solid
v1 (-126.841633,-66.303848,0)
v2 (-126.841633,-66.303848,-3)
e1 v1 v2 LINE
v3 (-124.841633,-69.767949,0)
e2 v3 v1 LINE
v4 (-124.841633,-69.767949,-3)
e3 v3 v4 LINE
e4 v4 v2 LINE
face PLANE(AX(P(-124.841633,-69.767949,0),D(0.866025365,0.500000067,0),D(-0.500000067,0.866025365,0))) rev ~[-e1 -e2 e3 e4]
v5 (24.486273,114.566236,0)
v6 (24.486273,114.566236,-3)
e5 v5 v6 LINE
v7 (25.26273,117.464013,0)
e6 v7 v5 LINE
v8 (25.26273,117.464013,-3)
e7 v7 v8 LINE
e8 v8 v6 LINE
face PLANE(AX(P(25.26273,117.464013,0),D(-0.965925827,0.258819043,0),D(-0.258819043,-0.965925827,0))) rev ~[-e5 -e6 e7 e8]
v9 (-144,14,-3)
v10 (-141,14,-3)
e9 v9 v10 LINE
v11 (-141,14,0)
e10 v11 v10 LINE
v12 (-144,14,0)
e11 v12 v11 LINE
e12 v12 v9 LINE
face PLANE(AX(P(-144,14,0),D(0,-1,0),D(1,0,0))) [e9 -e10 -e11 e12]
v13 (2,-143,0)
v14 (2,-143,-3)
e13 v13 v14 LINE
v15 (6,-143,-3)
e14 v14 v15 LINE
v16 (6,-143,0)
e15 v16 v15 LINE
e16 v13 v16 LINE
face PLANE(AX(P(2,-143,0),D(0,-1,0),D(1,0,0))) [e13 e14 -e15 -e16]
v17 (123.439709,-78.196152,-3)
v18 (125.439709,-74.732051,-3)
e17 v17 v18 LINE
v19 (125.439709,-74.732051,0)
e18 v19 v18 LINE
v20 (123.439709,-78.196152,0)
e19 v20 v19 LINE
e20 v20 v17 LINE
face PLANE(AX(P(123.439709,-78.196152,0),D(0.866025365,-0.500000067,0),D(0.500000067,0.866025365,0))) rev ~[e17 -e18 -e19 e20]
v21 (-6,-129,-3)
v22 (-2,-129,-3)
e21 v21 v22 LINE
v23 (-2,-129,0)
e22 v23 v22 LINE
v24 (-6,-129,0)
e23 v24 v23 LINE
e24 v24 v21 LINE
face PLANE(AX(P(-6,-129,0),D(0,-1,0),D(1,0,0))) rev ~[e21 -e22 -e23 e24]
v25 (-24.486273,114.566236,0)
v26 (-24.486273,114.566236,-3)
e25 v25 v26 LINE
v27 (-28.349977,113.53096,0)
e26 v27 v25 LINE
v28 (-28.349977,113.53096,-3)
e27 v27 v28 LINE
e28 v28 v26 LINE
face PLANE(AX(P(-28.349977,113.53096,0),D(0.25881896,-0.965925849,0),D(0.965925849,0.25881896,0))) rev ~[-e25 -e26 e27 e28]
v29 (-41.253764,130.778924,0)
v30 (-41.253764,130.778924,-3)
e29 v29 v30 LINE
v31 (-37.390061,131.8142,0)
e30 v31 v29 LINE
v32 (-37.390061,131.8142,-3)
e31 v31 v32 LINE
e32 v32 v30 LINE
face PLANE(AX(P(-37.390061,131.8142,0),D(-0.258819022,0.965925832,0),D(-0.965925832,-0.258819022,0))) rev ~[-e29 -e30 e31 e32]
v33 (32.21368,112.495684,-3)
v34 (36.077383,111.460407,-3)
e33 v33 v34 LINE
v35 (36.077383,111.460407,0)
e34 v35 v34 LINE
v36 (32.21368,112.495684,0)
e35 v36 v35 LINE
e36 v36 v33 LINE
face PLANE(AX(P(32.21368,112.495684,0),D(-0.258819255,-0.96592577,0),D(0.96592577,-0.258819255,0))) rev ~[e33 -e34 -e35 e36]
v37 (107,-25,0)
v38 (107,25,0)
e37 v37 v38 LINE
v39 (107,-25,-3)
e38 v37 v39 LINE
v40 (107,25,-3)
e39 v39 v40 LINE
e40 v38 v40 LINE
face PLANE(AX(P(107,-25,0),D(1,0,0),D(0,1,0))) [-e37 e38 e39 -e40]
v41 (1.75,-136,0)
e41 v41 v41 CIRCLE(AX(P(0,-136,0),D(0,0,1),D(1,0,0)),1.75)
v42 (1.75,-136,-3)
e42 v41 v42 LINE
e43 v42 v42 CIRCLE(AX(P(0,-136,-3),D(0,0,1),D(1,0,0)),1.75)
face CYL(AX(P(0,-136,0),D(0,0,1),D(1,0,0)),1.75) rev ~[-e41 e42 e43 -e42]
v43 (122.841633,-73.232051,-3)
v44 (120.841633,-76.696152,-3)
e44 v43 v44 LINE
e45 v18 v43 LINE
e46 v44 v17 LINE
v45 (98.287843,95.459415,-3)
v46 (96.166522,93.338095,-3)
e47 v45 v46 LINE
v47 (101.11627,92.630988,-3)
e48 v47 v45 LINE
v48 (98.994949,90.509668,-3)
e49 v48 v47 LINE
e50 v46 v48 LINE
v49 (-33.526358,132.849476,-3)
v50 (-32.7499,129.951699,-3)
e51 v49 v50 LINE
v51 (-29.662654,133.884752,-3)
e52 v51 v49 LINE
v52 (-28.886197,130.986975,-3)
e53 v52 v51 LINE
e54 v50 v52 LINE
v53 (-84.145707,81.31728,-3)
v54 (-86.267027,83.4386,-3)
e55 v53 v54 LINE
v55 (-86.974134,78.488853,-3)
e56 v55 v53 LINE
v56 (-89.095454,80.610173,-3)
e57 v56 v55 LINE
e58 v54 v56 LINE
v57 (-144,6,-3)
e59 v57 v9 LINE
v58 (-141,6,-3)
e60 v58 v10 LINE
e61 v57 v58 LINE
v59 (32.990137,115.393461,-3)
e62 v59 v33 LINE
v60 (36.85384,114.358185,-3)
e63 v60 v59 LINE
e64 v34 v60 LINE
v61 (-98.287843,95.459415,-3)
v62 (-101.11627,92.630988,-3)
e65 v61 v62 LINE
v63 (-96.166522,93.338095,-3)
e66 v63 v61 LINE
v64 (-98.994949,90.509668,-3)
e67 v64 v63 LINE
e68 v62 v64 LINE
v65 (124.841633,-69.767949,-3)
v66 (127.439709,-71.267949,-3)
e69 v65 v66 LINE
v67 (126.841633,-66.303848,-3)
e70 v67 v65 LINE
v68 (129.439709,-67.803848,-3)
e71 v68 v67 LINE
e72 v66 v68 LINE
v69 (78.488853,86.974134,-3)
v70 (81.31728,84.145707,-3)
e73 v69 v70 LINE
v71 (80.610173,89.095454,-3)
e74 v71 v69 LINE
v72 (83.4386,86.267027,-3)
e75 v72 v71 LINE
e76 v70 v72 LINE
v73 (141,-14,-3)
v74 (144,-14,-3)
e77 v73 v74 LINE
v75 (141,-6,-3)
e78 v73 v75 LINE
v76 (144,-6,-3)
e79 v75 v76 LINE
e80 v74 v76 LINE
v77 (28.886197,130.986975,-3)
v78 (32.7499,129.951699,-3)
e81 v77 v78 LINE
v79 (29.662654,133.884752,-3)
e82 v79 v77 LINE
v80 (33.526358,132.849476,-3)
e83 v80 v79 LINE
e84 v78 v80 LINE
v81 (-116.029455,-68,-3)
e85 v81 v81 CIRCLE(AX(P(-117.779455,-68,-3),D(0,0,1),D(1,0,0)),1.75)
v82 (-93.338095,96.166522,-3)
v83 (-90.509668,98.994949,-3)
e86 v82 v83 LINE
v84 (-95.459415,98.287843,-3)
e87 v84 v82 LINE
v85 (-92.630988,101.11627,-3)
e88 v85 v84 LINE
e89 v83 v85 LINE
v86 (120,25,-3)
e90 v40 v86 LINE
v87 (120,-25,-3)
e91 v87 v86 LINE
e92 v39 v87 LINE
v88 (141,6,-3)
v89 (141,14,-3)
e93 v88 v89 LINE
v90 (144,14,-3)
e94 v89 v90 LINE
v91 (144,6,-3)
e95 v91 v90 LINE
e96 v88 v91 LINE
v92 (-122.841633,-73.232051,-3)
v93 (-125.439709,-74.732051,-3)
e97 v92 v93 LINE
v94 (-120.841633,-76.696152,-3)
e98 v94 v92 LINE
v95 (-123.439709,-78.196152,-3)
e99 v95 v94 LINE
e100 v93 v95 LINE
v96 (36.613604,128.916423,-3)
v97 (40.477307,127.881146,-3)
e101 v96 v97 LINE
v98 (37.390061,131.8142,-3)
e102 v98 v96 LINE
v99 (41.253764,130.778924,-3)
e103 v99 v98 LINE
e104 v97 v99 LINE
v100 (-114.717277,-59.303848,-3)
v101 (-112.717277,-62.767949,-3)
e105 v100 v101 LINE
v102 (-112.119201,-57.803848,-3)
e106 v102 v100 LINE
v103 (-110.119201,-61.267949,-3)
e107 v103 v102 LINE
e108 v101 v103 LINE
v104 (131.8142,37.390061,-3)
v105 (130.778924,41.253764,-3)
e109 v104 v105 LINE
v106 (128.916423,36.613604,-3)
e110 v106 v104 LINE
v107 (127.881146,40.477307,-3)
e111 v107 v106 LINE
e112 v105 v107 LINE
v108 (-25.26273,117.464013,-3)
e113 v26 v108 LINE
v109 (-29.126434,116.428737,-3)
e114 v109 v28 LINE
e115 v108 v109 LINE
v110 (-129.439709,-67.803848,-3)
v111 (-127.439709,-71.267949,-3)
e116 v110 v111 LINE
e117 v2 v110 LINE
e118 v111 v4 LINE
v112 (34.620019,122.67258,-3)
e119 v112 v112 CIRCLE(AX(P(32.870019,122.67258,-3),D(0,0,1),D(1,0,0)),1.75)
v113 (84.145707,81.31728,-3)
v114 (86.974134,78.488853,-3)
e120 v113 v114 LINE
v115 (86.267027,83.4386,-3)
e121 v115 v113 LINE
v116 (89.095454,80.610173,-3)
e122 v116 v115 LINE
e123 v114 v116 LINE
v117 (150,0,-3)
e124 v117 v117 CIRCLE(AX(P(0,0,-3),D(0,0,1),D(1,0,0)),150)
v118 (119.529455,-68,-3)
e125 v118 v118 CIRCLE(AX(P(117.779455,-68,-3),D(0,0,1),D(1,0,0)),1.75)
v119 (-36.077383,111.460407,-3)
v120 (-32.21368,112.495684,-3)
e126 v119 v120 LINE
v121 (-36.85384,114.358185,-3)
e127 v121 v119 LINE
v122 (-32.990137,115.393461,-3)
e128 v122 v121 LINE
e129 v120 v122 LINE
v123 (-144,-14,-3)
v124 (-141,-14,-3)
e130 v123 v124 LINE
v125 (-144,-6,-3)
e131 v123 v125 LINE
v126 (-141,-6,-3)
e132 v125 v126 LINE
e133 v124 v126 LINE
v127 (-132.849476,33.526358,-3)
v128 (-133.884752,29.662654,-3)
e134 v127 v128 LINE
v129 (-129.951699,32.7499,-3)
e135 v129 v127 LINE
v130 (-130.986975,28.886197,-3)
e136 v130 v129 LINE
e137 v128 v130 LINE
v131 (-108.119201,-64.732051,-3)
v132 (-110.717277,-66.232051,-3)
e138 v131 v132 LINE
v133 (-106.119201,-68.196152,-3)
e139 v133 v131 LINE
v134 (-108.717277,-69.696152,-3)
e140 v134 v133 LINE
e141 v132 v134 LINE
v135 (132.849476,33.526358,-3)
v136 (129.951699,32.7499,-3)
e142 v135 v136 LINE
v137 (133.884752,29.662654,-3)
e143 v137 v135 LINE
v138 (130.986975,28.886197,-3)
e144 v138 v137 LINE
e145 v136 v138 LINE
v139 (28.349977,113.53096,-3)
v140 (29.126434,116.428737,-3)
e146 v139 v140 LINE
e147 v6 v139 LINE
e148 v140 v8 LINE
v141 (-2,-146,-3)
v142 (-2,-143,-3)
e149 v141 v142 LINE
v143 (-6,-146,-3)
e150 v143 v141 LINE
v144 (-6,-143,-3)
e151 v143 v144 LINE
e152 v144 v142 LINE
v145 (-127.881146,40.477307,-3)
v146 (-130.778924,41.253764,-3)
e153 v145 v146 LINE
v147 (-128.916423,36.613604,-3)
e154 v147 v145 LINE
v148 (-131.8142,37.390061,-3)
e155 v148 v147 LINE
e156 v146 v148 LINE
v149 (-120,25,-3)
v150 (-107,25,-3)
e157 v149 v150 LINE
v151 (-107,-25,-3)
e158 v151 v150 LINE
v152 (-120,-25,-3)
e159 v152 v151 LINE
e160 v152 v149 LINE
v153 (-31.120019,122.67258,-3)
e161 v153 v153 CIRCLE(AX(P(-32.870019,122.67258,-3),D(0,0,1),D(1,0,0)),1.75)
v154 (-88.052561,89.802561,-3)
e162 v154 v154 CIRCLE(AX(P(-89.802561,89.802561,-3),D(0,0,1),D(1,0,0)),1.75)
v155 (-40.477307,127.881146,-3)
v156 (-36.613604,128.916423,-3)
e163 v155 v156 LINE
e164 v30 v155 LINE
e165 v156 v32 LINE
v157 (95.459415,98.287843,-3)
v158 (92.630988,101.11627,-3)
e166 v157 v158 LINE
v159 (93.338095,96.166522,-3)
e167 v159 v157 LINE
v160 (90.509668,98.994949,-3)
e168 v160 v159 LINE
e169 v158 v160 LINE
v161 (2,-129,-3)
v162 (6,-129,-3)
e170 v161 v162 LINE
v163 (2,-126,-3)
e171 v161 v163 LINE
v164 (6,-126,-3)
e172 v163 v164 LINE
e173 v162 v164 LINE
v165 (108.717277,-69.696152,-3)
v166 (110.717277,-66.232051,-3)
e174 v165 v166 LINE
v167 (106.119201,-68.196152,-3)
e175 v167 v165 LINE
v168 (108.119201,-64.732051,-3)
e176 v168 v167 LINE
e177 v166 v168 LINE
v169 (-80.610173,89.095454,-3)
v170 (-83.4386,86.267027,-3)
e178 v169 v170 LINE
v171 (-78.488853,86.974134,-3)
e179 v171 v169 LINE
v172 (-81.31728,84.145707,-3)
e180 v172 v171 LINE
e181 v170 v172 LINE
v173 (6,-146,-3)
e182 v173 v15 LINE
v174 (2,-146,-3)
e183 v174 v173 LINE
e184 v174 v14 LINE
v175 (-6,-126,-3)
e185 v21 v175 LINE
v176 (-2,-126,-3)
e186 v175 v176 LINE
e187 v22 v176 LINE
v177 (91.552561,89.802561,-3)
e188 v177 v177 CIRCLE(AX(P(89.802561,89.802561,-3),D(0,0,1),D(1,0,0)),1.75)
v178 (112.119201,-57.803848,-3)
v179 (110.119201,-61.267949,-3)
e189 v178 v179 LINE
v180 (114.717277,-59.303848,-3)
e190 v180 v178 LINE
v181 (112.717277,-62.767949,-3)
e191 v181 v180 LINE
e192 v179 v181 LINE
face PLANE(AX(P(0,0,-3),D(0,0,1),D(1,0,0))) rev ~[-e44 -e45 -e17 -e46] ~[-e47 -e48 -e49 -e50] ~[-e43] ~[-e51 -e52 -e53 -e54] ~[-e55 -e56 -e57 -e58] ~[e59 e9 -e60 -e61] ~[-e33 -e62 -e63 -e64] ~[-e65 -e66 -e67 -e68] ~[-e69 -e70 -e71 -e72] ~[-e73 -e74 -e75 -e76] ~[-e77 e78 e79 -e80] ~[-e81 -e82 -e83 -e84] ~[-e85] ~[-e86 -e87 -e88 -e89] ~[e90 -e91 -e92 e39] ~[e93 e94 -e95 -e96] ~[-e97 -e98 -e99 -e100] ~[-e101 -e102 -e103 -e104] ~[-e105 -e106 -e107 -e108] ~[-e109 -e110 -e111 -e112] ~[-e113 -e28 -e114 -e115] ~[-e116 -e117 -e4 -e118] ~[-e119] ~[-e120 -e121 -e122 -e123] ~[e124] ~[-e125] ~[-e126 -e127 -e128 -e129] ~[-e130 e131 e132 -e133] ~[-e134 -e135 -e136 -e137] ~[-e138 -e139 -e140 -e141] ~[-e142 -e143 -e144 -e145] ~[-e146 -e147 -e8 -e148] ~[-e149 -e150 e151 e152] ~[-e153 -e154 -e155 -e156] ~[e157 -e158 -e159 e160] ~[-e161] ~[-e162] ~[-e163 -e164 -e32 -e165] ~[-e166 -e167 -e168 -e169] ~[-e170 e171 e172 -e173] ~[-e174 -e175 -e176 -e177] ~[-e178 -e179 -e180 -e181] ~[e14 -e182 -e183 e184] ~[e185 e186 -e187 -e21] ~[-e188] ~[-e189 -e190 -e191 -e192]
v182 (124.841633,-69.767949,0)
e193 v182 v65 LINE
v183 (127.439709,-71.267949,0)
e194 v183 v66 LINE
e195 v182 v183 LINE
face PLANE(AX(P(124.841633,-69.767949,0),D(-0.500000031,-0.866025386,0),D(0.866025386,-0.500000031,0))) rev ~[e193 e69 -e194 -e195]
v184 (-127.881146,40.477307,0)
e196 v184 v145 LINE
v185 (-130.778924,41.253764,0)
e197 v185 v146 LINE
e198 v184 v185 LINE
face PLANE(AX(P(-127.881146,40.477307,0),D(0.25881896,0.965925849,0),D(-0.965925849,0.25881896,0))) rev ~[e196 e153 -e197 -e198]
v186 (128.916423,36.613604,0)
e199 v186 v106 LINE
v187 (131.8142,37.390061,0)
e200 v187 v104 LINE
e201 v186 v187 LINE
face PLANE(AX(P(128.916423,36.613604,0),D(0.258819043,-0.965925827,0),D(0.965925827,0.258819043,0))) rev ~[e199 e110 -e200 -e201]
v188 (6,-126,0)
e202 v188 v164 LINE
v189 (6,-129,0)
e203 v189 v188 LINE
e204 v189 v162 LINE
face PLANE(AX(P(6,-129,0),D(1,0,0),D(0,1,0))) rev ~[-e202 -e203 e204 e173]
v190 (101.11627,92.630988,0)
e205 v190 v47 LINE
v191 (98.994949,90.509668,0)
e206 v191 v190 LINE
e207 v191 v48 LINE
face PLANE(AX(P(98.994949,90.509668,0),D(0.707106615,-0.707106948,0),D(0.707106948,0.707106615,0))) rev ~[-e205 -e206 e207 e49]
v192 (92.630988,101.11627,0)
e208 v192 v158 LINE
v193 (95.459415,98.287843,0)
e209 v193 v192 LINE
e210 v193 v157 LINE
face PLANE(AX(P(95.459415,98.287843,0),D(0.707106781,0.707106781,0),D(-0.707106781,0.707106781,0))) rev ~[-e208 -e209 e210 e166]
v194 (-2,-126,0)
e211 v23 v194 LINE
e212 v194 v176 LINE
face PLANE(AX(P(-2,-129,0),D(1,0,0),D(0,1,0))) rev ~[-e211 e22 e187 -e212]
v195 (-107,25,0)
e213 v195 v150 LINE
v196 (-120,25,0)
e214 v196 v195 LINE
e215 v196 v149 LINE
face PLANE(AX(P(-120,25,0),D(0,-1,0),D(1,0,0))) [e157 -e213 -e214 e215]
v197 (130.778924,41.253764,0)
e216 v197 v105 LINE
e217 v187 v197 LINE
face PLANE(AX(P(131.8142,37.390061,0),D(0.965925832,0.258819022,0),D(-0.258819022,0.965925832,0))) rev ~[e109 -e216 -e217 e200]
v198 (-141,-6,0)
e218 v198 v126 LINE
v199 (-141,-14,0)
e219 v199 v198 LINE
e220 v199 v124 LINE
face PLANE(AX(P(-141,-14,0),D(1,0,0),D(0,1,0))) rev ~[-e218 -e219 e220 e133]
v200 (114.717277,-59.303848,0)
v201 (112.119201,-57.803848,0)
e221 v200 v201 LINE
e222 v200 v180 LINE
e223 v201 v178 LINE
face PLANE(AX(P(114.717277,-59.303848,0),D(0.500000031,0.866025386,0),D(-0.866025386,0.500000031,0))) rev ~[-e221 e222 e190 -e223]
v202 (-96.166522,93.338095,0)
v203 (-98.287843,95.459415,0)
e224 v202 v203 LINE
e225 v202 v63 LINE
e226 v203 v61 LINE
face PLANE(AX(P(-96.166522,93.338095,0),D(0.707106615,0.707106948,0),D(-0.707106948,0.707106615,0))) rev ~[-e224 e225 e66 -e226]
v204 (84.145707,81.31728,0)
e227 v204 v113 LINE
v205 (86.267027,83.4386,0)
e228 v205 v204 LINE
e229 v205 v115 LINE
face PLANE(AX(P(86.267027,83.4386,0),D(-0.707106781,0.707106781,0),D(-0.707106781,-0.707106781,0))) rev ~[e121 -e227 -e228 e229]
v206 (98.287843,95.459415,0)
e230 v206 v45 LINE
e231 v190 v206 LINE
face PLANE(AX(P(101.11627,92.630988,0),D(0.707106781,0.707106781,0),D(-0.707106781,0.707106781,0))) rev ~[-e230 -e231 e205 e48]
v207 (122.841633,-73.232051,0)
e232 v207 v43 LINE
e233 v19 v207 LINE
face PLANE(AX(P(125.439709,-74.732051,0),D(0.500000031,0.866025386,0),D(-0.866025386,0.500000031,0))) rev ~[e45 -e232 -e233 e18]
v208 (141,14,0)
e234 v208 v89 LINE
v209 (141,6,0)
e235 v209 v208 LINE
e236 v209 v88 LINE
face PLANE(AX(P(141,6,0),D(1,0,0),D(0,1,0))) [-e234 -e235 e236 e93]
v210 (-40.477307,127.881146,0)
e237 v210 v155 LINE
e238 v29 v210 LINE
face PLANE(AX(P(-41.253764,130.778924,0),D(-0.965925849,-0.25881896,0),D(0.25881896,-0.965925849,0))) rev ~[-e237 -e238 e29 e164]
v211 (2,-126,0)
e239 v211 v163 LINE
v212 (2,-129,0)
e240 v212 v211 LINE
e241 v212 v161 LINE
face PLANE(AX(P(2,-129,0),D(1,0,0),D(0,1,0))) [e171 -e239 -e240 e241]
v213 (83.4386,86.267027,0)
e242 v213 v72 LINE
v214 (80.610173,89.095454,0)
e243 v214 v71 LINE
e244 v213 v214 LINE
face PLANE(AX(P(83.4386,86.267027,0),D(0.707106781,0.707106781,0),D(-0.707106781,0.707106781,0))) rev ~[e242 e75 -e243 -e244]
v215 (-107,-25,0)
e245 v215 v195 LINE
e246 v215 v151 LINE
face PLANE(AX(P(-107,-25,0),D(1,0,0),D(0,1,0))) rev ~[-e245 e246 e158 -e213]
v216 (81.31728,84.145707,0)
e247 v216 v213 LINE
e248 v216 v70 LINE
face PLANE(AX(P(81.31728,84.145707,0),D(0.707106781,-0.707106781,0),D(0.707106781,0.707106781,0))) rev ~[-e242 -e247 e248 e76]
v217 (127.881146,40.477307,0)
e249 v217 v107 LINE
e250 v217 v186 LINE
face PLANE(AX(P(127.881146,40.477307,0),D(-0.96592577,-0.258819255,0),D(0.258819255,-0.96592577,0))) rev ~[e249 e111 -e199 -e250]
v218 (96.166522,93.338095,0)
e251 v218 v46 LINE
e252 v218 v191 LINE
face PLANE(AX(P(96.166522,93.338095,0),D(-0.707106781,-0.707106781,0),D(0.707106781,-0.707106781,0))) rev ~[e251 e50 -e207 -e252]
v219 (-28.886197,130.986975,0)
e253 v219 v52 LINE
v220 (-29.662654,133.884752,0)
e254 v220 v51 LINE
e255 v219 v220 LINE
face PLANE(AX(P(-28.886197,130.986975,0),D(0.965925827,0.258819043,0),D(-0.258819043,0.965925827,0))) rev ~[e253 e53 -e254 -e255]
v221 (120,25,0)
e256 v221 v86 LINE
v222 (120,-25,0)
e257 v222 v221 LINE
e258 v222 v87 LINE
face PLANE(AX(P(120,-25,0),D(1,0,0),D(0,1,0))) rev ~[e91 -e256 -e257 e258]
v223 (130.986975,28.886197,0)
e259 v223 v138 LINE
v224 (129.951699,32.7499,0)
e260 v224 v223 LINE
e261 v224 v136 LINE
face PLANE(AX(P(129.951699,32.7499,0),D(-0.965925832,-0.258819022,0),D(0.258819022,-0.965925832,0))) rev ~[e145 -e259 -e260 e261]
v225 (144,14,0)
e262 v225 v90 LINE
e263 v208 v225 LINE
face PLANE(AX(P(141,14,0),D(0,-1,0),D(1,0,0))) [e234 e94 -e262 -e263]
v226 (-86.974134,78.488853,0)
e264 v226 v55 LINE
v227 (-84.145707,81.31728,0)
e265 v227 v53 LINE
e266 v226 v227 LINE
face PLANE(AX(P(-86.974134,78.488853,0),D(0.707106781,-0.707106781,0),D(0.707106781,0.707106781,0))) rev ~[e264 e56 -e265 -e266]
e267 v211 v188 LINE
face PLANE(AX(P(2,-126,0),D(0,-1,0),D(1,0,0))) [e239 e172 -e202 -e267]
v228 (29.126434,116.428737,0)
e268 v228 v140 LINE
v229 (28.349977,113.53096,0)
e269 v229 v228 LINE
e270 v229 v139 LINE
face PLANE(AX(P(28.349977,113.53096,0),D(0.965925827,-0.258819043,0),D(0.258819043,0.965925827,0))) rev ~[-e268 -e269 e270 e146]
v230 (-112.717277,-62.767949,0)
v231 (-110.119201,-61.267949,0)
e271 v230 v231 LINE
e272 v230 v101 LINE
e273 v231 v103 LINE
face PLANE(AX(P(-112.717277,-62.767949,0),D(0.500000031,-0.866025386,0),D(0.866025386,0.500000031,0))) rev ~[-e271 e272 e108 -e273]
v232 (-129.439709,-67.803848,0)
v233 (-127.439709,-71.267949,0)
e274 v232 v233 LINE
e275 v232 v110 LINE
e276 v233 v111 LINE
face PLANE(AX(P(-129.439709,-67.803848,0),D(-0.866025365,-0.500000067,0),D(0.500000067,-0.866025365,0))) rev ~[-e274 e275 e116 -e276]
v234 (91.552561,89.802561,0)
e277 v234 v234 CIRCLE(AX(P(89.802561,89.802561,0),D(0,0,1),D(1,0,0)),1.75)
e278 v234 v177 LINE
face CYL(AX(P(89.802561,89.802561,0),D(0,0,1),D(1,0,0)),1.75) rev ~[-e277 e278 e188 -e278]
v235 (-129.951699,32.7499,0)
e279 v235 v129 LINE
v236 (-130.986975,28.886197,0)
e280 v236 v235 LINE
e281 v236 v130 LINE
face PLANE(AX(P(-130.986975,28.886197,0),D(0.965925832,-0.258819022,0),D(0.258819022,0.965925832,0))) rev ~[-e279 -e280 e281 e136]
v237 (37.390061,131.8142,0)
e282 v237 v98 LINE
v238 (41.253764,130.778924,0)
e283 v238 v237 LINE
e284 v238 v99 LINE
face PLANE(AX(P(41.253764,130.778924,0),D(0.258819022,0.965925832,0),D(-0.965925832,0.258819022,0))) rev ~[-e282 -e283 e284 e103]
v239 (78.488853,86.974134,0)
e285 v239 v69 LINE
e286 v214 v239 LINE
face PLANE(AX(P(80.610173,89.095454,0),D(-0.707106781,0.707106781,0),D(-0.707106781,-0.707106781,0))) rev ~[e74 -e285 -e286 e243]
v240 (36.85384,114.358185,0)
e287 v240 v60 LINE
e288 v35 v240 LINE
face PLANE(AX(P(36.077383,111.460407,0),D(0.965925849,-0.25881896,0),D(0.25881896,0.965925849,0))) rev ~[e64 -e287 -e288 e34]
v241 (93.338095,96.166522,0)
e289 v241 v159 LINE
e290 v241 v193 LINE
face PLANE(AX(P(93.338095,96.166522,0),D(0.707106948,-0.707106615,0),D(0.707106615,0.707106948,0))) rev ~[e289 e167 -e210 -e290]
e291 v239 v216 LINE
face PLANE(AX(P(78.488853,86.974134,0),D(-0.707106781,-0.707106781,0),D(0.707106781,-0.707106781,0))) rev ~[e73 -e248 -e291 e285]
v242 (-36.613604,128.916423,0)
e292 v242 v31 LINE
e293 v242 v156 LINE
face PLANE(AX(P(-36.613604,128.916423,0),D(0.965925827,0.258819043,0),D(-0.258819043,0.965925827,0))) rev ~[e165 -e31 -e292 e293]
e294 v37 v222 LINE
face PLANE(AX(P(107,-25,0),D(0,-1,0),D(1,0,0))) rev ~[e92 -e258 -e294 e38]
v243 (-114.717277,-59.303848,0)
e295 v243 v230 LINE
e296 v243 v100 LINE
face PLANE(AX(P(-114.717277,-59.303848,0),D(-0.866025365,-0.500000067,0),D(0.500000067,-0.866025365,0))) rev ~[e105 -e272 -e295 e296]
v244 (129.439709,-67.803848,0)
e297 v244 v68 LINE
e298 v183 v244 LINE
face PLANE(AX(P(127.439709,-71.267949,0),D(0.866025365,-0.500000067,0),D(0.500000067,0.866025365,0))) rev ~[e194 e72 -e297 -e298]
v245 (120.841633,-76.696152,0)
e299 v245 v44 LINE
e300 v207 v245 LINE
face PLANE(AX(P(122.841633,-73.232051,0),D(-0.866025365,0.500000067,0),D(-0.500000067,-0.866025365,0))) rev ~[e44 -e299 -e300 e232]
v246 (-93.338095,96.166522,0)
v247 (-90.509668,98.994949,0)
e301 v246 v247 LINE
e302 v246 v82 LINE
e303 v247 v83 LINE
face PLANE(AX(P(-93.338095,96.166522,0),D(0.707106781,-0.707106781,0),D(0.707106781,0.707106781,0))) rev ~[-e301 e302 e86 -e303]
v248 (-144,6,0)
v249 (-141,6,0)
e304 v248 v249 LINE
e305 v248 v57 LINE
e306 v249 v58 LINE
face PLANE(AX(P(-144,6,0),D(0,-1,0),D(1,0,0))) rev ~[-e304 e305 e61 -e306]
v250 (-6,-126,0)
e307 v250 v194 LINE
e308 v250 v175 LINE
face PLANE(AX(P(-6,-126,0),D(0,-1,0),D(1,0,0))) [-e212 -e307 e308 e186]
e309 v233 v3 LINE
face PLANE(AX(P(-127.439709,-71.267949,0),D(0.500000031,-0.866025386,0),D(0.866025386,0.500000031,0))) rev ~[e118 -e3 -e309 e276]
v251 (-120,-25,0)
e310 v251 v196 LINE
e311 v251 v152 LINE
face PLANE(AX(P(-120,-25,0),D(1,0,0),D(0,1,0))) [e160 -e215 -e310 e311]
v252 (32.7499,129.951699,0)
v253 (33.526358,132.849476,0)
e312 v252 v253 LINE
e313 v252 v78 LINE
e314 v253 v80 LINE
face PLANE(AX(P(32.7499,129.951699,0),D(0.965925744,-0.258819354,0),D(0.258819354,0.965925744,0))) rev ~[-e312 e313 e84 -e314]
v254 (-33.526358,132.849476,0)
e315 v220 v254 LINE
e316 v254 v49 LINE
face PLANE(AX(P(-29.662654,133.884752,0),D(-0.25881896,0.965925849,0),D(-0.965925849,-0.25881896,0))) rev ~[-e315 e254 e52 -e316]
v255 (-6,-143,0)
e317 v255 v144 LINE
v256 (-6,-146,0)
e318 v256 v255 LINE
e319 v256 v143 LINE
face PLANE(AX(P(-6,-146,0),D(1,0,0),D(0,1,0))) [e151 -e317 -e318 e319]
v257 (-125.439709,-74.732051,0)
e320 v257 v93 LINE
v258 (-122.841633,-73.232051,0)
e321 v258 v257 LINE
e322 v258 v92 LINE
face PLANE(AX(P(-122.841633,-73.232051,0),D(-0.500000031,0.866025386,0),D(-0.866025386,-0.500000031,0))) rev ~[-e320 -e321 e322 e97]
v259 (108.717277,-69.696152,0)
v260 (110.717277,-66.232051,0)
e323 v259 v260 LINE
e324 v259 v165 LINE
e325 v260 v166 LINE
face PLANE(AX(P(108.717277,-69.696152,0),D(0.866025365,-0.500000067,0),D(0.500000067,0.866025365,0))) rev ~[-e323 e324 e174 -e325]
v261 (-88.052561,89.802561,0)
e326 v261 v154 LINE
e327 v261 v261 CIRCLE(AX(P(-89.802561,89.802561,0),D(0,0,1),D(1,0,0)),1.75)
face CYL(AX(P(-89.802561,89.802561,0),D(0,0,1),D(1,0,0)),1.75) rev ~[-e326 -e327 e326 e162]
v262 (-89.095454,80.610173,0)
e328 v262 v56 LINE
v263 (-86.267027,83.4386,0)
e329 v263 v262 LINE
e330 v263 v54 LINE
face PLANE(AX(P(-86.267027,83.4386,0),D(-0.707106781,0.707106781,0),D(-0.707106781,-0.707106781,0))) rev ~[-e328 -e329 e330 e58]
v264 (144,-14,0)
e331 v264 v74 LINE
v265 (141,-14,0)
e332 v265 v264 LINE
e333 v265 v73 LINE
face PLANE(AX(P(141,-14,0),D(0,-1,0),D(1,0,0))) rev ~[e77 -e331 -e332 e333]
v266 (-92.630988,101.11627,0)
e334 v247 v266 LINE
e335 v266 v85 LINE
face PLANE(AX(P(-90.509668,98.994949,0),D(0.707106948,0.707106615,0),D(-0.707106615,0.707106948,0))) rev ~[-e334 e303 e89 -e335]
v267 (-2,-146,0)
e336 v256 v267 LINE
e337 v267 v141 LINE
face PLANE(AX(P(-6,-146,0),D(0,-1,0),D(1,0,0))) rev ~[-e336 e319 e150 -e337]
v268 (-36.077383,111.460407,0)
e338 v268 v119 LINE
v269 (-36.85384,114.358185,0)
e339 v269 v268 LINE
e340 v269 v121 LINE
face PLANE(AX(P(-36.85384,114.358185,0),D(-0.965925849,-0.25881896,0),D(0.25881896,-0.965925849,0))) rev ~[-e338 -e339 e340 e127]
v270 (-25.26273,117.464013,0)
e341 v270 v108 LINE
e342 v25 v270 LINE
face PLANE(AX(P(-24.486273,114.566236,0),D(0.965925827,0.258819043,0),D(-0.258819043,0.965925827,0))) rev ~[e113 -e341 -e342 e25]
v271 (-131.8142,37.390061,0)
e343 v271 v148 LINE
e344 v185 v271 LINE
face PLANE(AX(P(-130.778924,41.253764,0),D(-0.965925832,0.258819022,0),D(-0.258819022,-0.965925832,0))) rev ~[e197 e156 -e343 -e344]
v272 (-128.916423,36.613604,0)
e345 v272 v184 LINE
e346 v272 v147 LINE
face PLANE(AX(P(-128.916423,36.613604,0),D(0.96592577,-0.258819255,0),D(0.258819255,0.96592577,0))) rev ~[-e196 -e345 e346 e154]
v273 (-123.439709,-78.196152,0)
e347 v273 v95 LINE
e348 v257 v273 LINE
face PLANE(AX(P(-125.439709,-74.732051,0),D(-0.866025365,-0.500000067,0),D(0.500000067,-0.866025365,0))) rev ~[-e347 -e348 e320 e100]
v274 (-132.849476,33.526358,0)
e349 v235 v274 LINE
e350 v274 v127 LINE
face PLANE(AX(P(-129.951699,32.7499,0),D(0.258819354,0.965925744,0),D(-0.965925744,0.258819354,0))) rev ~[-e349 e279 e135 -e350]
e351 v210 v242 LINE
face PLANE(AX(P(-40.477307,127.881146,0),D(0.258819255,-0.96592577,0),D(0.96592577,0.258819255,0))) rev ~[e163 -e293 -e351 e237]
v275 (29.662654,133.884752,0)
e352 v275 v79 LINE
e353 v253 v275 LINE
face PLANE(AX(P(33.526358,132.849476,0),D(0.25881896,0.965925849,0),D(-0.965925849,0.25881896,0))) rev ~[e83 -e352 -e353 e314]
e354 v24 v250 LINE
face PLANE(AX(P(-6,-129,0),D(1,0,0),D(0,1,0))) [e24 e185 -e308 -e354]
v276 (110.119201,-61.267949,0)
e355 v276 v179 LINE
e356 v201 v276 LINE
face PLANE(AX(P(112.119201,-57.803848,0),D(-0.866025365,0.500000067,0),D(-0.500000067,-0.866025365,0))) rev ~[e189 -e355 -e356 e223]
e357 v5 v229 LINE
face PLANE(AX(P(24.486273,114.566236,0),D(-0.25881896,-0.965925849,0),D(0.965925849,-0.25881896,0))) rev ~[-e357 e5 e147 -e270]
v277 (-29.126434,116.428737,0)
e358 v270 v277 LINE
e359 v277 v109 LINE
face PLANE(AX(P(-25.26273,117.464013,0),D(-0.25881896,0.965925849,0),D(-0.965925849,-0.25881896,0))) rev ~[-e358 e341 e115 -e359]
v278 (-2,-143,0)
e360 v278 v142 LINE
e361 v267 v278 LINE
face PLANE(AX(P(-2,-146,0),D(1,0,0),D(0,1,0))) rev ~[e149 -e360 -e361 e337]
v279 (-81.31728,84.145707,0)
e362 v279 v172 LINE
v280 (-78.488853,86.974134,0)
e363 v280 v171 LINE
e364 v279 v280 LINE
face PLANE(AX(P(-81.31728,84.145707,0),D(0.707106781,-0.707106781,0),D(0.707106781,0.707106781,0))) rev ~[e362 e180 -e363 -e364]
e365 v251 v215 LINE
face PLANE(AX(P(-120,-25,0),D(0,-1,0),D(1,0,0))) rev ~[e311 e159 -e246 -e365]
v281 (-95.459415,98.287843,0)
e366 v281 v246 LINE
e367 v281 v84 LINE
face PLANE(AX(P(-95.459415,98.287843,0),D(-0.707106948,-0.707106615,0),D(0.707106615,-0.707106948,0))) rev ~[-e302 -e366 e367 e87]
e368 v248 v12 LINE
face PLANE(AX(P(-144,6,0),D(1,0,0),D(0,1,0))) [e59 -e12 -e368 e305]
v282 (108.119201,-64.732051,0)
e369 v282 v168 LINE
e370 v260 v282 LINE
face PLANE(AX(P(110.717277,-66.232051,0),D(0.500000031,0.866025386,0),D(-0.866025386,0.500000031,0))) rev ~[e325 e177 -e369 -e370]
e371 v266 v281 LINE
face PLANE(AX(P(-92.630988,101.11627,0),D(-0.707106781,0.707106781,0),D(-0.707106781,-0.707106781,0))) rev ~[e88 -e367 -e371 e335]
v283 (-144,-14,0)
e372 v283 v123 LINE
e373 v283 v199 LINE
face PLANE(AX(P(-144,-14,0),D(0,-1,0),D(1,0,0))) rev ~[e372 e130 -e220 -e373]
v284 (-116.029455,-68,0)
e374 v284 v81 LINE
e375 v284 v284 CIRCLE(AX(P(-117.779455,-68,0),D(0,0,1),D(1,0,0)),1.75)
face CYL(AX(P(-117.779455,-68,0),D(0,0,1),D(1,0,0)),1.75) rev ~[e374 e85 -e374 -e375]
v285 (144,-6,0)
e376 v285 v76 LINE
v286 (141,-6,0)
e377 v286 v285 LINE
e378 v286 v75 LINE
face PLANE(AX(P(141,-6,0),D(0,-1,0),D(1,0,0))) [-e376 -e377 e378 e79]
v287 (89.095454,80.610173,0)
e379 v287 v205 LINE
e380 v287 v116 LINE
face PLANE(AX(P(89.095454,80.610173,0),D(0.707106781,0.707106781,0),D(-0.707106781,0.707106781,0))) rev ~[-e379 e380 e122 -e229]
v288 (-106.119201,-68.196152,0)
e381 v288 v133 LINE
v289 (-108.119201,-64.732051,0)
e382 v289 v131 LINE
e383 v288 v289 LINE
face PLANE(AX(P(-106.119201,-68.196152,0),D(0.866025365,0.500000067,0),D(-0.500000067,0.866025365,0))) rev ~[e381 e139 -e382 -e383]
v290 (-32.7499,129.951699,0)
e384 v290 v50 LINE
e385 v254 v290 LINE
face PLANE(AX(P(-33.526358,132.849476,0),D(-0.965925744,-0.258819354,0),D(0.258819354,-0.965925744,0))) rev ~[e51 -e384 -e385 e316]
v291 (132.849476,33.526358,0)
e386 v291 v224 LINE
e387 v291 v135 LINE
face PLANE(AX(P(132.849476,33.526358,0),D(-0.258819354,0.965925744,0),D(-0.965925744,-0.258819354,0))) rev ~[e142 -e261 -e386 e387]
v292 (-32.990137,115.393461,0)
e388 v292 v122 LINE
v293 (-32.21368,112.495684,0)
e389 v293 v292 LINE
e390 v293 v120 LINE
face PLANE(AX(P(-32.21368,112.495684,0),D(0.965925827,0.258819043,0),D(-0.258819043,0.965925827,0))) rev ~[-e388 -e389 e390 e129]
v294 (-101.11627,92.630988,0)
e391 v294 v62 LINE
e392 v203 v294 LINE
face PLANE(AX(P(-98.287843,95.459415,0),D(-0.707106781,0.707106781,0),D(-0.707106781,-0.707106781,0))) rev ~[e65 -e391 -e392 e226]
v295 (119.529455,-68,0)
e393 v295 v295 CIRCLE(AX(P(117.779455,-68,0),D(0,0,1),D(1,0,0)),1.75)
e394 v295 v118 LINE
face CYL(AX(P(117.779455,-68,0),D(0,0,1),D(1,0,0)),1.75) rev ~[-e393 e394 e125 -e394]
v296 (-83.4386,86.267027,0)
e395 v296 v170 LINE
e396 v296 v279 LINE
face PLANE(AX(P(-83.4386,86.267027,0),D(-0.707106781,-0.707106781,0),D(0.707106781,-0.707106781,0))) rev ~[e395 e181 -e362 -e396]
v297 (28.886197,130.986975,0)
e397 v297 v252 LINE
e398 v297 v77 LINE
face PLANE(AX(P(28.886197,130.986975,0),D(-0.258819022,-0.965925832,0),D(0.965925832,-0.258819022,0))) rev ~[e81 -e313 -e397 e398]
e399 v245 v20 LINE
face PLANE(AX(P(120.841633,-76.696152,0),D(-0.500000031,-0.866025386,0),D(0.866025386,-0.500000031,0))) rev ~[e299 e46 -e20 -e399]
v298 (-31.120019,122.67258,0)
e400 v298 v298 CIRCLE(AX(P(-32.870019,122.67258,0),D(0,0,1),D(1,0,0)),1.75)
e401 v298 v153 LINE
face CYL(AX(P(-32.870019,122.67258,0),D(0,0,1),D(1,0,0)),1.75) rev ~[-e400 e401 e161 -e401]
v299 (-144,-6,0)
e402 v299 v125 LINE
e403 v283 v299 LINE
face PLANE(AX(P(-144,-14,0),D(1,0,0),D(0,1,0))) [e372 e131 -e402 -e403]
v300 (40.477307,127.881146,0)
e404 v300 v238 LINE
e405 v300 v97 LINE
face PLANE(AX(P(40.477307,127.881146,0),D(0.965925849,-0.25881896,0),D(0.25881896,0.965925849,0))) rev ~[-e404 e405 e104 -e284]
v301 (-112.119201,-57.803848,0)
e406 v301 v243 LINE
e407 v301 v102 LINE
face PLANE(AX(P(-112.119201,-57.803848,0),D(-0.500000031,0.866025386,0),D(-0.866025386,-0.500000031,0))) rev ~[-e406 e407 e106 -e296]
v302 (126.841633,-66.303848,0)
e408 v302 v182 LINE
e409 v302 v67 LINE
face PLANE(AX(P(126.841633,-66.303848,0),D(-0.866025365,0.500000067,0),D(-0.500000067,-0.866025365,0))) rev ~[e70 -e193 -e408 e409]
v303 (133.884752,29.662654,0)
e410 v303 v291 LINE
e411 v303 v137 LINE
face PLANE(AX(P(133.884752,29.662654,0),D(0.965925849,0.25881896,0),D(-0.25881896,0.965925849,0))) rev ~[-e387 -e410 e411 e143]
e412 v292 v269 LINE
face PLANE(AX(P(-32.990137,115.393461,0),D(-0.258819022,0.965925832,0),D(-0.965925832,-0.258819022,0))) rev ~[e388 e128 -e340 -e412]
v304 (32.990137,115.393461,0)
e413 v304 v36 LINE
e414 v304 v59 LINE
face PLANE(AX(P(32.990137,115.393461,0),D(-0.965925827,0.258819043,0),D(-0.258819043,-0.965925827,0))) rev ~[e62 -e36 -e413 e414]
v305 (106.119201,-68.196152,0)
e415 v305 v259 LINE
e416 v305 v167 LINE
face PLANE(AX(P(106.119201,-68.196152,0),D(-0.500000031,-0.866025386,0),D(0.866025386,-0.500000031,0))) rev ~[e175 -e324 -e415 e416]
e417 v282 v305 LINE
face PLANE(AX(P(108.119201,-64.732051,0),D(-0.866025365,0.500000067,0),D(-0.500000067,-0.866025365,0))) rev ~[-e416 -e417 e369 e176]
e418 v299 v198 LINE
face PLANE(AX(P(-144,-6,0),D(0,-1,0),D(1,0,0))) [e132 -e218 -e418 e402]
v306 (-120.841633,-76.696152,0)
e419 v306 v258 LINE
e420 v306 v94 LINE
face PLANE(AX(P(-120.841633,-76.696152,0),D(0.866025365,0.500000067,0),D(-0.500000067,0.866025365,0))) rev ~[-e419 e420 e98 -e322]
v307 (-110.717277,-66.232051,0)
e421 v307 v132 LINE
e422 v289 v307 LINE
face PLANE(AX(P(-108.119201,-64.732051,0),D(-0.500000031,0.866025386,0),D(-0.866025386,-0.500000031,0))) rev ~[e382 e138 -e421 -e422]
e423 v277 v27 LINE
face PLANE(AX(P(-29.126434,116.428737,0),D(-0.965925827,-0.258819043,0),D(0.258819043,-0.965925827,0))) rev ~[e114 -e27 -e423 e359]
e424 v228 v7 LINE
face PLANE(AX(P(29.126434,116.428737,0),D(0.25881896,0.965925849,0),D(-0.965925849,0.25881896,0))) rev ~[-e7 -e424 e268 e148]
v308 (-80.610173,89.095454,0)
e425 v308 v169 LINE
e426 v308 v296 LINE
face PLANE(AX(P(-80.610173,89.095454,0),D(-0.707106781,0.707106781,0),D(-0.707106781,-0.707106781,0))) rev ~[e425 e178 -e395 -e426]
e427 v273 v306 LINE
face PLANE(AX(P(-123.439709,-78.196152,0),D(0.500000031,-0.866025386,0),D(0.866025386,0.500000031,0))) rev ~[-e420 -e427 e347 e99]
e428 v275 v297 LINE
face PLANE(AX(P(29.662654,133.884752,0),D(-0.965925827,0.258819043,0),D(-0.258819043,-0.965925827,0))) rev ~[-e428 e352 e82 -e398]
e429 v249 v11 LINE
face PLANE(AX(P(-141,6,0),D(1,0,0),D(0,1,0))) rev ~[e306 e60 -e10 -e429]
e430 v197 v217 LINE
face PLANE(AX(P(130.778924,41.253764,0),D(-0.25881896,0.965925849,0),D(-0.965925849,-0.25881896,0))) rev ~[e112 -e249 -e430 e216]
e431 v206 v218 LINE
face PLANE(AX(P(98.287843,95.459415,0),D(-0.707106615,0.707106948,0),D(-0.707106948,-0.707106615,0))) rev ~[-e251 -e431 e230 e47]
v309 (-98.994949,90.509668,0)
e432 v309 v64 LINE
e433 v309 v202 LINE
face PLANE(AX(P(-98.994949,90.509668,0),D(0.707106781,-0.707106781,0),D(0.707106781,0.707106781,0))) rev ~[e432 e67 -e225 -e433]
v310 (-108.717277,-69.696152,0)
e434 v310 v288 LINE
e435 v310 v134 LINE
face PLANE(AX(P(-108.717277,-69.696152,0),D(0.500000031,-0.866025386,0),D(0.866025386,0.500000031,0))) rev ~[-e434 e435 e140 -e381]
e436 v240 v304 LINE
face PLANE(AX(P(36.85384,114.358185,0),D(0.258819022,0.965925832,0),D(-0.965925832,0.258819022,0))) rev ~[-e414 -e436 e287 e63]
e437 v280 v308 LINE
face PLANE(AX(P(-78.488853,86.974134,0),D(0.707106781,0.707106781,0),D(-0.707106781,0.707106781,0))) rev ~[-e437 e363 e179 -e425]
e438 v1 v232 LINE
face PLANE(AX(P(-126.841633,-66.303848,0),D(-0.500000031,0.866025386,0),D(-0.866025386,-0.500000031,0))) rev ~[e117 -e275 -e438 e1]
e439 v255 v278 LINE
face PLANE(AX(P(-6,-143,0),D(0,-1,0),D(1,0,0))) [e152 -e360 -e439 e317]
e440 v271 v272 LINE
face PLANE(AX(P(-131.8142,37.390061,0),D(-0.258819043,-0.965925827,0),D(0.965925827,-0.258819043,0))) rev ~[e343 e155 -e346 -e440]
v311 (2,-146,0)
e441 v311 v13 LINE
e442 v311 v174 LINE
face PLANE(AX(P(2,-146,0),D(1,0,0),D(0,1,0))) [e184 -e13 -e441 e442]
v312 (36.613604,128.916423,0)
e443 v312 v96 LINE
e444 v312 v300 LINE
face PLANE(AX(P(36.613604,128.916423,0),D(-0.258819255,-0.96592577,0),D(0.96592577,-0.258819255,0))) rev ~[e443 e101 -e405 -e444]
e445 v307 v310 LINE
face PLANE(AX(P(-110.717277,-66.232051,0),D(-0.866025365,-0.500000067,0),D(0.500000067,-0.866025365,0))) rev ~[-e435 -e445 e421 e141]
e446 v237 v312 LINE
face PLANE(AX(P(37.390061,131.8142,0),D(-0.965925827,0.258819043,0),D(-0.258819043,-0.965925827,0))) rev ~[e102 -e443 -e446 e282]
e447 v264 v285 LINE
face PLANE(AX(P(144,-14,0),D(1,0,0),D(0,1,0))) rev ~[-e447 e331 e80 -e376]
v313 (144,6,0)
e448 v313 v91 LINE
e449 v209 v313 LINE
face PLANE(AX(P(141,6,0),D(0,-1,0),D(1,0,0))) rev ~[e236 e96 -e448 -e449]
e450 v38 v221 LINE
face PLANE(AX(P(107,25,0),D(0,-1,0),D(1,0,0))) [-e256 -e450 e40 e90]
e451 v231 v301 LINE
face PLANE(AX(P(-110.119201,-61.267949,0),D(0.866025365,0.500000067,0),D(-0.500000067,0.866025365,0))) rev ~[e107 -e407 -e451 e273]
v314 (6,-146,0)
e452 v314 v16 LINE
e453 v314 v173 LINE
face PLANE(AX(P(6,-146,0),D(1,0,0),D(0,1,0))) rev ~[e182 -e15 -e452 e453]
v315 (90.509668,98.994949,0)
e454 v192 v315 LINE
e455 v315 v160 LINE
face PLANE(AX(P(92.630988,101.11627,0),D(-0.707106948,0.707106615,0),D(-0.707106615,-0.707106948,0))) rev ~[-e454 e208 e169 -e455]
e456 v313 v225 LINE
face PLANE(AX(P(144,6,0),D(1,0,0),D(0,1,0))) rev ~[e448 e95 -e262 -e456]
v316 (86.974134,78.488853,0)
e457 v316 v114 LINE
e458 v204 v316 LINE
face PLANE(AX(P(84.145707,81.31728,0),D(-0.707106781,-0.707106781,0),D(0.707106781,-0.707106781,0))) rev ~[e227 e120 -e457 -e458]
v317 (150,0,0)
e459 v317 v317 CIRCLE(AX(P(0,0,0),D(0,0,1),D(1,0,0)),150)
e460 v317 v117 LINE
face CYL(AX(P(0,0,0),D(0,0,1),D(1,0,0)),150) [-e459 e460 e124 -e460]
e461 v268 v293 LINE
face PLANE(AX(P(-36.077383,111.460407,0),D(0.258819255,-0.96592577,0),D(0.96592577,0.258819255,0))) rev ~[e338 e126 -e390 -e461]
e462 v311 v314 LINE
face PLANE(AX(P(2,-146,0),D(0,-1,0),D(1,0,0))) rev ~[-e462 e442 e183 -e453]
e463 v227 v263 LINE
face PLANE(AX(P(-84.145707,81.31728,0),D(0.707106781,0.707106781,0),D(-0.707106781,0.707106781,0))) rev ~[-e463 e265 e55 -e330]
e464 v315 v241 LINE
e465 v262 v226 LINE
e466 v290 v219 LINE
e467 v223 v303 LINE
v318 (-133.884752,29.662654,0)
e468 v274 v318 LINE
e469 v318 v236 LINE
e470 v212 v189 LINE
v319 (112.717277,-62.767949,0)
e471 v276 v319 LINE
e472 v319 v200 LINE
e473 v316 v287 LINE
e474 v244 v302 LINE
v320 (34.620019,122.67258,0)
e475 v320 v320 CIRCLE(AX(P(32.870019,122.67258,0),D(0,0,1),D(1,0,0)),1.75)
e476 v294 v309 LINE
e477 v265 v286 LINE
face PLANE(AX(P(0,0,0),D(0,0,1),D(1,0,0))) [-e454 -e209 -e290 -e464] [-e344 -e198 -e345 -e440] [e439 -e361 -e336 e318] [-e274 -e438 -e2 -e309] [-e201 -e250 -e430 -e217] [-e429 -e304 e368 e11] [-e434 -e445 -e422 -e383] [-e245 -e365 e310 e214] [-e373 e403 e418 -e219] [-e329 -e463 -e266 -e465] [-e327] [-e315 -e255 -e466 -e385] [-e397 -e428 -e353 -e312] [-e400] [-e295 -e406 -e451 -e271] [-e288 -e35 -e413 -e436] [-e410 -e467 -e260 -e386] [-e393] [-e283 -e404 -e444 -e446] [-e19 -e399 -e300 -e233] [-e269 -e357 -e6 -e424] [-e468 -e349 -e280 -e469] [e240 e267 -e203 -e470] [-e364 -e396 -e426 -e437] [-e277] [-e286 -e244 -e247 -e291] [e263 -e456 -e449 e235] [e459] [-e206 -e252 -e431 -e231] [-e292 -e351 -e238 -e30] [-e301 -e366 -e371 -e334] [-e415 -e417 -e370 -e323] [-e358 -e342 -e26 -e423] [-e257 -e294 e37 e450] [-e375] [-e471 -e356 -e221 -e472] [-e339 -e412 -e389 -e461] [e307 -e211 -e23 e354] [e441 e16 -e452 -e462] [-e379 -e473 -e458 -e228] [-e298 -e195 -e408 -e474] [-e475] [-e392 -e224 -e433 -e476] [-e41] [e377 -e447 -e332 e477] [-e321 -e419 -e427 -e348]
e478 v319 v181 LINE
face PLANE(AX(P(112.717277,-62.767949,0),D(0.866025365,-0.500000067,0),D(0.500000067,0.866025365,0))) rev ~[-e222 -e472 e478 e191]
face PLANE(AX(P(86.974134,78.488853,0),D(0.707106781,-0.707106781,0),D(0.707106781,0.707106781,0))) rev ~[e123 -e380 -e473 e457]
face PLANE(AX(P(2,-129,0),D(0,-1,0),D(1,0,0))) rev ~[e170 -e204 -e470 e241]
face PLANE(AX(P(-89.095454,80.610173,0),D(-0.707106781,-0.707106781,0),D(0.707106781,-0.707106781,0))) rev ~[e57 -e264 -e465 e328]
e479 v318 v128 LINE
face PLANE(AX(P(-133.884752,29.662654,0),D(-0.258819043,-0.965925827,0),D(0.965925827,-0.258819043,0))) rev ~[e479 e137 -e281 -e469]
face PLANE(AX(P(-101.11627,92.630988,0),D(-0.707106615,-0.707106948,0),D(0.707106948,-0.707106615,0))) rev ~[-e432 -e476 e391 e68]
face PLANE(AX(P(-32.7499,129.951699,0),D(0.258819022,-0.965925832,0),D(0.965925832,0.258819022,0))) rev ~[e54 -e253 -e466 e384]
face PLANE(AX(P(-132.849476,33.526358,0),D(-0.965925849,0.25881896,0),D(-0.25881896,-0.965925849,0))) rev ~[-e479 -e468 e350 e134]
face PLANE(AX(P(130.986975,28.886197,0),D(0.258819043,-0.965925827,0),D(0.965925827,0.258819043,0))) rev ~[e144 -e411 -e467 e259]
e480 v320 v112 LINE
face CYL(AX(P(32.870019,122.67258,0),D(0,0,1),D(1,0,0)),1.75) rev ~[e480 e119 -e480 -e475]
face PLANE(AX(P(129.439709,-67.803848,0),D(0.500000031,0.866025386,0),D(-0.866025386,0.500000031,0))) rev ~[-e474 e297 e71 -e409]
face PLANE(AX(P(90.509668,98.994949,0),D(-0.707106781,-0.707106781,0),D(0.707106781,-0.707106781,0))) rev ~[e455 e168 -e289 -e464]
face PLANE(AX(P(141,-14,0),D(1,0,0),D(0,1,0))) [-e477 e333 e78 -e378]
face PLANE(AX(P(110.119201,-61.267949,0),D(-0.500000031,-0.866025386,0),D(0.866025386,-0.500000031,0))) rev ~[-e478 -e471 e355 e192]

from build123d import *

# Parameters (mm, degrees)
F0_R     = 150
F0_W     = 3
F0_H     = 8
F0_W_2   = 13
F0_H_2   = 50
F1_DEPTH = 3
F2_R     = 1.75
F2_W     = 4
F2_H     = 3
F3_DEPTH = 3


with BuildPart() as f1:
    # F0 (on Top) → F1 (new body)
    with BuildSketch(Plane.XY):
        Circle(F0_R)
        with Locations((-142.5, -10)):
            Rectangle(F0_W, F0_H, mode=Mode.SUBTRACT)
        with Locations((142.5, -10)):
            Rectangle(F0_W, F0_H, mode=Mode.SUBTRACT)
        with Locations((-142.5, 10)):
            Rectangle(F0_W, F0_H, mode=Mode.SUBTRACT)
        with Locations((-113.5, 0)):
            Rectangle(F0_W_2, F0_H_2, mode=Mode.SUBTRACT)
        with Locations((113.5, 0)):
            Rectangle(F0_W_2, F0_H_2, mode=Mode.SUBTRACT)
        with Locations((142.5, 10)):
            Rectangle(F0_W, F0_H, mode=Mode.SUBTRACT)
    extrude(amount=-F1_DEPTH)

    # F2 (on face) → F3 (cut, through all)
    with BuildSketch(Plane.XY):
        Polygon((-37.390061, 131.8142), (-41.253764, 130.778924), (-40.477307, 127.881146), (-36.613604, 128.916423), align=None)
        Polygon((-32.21368, 112.495684), (-32.990137, 115.393461), (-36.85384, 114.358185), (-36.077383, 111.460407), align=None)
        with Locations((-32.870019, 122.67258)):
            Circle(F2_R)
        Polygon((-28.886197, 130.986975), (-29.662654, 133.884752), (-33.526358, 132.849476), (-32.7499, 129.951699), align=None)
        Polygon((-25.26273, 117.464013), (-29.126434, 116.428737), (-28.349977, 113.53096), (-24.486273, 114.566236), align=None)
        with Locations((-117.779455, -68)):
            Circle(F2_R)
        Polygon((-108.119201, -64.732051), (-110.717277, -66.232051), (-108.717277, -69.696152), (-106.119201, -68.196152), align=None)
        Polygon((-120.841633, -76.696152), (-122.841633, -73.232051), (-125.439709, -74.732051), (-123.439709, -78.196152), align=None)
        Polygon((-114.717277, -59.303848), (-112.717277, -62.767949), (-110.119201, -61.267949), (-112.119201, -57.803848), align=None)
        Polygon((-127.439709, -71.267949), (-124.841633, -69.767949), (-126.841633, -66.303848), (-129.439709, -67.803848), align=None)
        Polygon((108.717277, -69.696152), (110.717277, -66.232051), (108.119201, -64.732051), (106.119201, -68.196152), align=None)
        Polygon((127.439709, -71.267949), (129.439709, -67.803848), (126.841633, -66.303848), (124.841633, -69.767949), align=None)
        Polygon((112.717277, -62.767949), (114.717277, -59.303848), (112.119201, -57.803848), (110.119201, -61.267949), align=None)
        with Locations((117.779455, -68)):
            Circle(F2_R)
        Polygon((123.439709, -78.196152), (125.439709, -74.732051), (122.841633, -73.232051), (120.841633, -76.696152), align=None)
        with Locations((0, -136)):
            Circle(F2_R)
        with Locations((4, -127.5)):
            Rectangle(F2_W, F2_H)
        with Locations((-4, -127.5)):
            Rectangle(F2_W, F2_H)
        with Locations((4, -144.5)):
            Rectangle(F2_W, F2_H)
        with Locations((-4, -144.5)):
            Rectangle(F2_W, F2_H)
        Polygon((-89.095454, 80.610173), (-86.974134, 78.488853), (-84.145707, 81.31728), (-86.267027, 83.4386), align=None)
        Polygon((-80.610173, 89.095454), (-83.4386, 86.267027), (-81.31728, 84.145707), (-78.488853, 86.974134), align=None)
        with Locations((-89.802561, 89.802561)):
            Circle(F2_R)
        Polygon((-101.11627, 92.630988), (-98.994949, 90.509668), (-96.166522, 93.338095), (-98.287843, 95.459415), align=None)
        Polygon((-95.459415, 98.287843), (-93.338095, 96.166522), (-90.509668, 98.994949), (-92.630988, 101.11627), align=None)
        Polygon((-133.884752, 29.662654), (-130.986975, 28.886197), (-129.951699, 32.7499), (-132.849476, 33.526358), align=None)
        Polygon((-130.778924, 41.253764), (-131.8142, 37.390061), (-128.916423, 36.613604), (-127.881146, 40.477307), align=None)
        Polygon((33.526358, 132.849476), (29.662654, 133.884752), (28.886197, 130.986975), (32.7499, 129.951699), align=None)
        Polygon((40.477307, 127.881146), (41.253764, 130.778924), (37.390061, 131.8142), (36.613604, 128.916423), align=None)
        Polygon((28.349977, 113.53096), (29.126434, 116.428737), (25.26273, 117.464013), (24.486273, 114.566236), align=None)
        Polygon((36.85384, 114.358185), (32.990137, 115.393461), (32.21368, 112.495684), (36.077383, 111.460407), align=None)
        with Locations((32.870019, 122.67258)):
            Circle(F2_R)
        Polygon((93.338095, 96.166522), (95.459415, 98.287843), (92.630988, 101.11627), (90.509668, 98.994949), align=None)
        Polygon((101.11627, 92.630988), (98.287843, 95.459415), (96.166522, 93.338095), (98.994949, 90.509668), align=None)
        Polygon((83.4386, 86.267027), (80.610173, 89.095454), (78.488853, 86.974134), (81.31728, 84.145707), align=None)
        Polygon((89.095454, 80.610173), (86.267027, 83.4386), (84.145707, 81.31728), (86.974134, 78.488853), align=None)
        with Locations((89.802561, 89.802561)):
            Circle(F2_R)
        Polygon((130.778924, 41.253764), (127.881146, 40.477307), (128.916423, 36.613604), (131.8142, 37.390061), align=None)
        Polygon((133.884752, 29.662654), (132.849476, 33.526358), (129.951699, 32.7499), (130.986975, 28.886197), align=None)
    extrude(amount=-F3_DEPTH, mode=Mode.SUBTRACT)


solid = f1.part
